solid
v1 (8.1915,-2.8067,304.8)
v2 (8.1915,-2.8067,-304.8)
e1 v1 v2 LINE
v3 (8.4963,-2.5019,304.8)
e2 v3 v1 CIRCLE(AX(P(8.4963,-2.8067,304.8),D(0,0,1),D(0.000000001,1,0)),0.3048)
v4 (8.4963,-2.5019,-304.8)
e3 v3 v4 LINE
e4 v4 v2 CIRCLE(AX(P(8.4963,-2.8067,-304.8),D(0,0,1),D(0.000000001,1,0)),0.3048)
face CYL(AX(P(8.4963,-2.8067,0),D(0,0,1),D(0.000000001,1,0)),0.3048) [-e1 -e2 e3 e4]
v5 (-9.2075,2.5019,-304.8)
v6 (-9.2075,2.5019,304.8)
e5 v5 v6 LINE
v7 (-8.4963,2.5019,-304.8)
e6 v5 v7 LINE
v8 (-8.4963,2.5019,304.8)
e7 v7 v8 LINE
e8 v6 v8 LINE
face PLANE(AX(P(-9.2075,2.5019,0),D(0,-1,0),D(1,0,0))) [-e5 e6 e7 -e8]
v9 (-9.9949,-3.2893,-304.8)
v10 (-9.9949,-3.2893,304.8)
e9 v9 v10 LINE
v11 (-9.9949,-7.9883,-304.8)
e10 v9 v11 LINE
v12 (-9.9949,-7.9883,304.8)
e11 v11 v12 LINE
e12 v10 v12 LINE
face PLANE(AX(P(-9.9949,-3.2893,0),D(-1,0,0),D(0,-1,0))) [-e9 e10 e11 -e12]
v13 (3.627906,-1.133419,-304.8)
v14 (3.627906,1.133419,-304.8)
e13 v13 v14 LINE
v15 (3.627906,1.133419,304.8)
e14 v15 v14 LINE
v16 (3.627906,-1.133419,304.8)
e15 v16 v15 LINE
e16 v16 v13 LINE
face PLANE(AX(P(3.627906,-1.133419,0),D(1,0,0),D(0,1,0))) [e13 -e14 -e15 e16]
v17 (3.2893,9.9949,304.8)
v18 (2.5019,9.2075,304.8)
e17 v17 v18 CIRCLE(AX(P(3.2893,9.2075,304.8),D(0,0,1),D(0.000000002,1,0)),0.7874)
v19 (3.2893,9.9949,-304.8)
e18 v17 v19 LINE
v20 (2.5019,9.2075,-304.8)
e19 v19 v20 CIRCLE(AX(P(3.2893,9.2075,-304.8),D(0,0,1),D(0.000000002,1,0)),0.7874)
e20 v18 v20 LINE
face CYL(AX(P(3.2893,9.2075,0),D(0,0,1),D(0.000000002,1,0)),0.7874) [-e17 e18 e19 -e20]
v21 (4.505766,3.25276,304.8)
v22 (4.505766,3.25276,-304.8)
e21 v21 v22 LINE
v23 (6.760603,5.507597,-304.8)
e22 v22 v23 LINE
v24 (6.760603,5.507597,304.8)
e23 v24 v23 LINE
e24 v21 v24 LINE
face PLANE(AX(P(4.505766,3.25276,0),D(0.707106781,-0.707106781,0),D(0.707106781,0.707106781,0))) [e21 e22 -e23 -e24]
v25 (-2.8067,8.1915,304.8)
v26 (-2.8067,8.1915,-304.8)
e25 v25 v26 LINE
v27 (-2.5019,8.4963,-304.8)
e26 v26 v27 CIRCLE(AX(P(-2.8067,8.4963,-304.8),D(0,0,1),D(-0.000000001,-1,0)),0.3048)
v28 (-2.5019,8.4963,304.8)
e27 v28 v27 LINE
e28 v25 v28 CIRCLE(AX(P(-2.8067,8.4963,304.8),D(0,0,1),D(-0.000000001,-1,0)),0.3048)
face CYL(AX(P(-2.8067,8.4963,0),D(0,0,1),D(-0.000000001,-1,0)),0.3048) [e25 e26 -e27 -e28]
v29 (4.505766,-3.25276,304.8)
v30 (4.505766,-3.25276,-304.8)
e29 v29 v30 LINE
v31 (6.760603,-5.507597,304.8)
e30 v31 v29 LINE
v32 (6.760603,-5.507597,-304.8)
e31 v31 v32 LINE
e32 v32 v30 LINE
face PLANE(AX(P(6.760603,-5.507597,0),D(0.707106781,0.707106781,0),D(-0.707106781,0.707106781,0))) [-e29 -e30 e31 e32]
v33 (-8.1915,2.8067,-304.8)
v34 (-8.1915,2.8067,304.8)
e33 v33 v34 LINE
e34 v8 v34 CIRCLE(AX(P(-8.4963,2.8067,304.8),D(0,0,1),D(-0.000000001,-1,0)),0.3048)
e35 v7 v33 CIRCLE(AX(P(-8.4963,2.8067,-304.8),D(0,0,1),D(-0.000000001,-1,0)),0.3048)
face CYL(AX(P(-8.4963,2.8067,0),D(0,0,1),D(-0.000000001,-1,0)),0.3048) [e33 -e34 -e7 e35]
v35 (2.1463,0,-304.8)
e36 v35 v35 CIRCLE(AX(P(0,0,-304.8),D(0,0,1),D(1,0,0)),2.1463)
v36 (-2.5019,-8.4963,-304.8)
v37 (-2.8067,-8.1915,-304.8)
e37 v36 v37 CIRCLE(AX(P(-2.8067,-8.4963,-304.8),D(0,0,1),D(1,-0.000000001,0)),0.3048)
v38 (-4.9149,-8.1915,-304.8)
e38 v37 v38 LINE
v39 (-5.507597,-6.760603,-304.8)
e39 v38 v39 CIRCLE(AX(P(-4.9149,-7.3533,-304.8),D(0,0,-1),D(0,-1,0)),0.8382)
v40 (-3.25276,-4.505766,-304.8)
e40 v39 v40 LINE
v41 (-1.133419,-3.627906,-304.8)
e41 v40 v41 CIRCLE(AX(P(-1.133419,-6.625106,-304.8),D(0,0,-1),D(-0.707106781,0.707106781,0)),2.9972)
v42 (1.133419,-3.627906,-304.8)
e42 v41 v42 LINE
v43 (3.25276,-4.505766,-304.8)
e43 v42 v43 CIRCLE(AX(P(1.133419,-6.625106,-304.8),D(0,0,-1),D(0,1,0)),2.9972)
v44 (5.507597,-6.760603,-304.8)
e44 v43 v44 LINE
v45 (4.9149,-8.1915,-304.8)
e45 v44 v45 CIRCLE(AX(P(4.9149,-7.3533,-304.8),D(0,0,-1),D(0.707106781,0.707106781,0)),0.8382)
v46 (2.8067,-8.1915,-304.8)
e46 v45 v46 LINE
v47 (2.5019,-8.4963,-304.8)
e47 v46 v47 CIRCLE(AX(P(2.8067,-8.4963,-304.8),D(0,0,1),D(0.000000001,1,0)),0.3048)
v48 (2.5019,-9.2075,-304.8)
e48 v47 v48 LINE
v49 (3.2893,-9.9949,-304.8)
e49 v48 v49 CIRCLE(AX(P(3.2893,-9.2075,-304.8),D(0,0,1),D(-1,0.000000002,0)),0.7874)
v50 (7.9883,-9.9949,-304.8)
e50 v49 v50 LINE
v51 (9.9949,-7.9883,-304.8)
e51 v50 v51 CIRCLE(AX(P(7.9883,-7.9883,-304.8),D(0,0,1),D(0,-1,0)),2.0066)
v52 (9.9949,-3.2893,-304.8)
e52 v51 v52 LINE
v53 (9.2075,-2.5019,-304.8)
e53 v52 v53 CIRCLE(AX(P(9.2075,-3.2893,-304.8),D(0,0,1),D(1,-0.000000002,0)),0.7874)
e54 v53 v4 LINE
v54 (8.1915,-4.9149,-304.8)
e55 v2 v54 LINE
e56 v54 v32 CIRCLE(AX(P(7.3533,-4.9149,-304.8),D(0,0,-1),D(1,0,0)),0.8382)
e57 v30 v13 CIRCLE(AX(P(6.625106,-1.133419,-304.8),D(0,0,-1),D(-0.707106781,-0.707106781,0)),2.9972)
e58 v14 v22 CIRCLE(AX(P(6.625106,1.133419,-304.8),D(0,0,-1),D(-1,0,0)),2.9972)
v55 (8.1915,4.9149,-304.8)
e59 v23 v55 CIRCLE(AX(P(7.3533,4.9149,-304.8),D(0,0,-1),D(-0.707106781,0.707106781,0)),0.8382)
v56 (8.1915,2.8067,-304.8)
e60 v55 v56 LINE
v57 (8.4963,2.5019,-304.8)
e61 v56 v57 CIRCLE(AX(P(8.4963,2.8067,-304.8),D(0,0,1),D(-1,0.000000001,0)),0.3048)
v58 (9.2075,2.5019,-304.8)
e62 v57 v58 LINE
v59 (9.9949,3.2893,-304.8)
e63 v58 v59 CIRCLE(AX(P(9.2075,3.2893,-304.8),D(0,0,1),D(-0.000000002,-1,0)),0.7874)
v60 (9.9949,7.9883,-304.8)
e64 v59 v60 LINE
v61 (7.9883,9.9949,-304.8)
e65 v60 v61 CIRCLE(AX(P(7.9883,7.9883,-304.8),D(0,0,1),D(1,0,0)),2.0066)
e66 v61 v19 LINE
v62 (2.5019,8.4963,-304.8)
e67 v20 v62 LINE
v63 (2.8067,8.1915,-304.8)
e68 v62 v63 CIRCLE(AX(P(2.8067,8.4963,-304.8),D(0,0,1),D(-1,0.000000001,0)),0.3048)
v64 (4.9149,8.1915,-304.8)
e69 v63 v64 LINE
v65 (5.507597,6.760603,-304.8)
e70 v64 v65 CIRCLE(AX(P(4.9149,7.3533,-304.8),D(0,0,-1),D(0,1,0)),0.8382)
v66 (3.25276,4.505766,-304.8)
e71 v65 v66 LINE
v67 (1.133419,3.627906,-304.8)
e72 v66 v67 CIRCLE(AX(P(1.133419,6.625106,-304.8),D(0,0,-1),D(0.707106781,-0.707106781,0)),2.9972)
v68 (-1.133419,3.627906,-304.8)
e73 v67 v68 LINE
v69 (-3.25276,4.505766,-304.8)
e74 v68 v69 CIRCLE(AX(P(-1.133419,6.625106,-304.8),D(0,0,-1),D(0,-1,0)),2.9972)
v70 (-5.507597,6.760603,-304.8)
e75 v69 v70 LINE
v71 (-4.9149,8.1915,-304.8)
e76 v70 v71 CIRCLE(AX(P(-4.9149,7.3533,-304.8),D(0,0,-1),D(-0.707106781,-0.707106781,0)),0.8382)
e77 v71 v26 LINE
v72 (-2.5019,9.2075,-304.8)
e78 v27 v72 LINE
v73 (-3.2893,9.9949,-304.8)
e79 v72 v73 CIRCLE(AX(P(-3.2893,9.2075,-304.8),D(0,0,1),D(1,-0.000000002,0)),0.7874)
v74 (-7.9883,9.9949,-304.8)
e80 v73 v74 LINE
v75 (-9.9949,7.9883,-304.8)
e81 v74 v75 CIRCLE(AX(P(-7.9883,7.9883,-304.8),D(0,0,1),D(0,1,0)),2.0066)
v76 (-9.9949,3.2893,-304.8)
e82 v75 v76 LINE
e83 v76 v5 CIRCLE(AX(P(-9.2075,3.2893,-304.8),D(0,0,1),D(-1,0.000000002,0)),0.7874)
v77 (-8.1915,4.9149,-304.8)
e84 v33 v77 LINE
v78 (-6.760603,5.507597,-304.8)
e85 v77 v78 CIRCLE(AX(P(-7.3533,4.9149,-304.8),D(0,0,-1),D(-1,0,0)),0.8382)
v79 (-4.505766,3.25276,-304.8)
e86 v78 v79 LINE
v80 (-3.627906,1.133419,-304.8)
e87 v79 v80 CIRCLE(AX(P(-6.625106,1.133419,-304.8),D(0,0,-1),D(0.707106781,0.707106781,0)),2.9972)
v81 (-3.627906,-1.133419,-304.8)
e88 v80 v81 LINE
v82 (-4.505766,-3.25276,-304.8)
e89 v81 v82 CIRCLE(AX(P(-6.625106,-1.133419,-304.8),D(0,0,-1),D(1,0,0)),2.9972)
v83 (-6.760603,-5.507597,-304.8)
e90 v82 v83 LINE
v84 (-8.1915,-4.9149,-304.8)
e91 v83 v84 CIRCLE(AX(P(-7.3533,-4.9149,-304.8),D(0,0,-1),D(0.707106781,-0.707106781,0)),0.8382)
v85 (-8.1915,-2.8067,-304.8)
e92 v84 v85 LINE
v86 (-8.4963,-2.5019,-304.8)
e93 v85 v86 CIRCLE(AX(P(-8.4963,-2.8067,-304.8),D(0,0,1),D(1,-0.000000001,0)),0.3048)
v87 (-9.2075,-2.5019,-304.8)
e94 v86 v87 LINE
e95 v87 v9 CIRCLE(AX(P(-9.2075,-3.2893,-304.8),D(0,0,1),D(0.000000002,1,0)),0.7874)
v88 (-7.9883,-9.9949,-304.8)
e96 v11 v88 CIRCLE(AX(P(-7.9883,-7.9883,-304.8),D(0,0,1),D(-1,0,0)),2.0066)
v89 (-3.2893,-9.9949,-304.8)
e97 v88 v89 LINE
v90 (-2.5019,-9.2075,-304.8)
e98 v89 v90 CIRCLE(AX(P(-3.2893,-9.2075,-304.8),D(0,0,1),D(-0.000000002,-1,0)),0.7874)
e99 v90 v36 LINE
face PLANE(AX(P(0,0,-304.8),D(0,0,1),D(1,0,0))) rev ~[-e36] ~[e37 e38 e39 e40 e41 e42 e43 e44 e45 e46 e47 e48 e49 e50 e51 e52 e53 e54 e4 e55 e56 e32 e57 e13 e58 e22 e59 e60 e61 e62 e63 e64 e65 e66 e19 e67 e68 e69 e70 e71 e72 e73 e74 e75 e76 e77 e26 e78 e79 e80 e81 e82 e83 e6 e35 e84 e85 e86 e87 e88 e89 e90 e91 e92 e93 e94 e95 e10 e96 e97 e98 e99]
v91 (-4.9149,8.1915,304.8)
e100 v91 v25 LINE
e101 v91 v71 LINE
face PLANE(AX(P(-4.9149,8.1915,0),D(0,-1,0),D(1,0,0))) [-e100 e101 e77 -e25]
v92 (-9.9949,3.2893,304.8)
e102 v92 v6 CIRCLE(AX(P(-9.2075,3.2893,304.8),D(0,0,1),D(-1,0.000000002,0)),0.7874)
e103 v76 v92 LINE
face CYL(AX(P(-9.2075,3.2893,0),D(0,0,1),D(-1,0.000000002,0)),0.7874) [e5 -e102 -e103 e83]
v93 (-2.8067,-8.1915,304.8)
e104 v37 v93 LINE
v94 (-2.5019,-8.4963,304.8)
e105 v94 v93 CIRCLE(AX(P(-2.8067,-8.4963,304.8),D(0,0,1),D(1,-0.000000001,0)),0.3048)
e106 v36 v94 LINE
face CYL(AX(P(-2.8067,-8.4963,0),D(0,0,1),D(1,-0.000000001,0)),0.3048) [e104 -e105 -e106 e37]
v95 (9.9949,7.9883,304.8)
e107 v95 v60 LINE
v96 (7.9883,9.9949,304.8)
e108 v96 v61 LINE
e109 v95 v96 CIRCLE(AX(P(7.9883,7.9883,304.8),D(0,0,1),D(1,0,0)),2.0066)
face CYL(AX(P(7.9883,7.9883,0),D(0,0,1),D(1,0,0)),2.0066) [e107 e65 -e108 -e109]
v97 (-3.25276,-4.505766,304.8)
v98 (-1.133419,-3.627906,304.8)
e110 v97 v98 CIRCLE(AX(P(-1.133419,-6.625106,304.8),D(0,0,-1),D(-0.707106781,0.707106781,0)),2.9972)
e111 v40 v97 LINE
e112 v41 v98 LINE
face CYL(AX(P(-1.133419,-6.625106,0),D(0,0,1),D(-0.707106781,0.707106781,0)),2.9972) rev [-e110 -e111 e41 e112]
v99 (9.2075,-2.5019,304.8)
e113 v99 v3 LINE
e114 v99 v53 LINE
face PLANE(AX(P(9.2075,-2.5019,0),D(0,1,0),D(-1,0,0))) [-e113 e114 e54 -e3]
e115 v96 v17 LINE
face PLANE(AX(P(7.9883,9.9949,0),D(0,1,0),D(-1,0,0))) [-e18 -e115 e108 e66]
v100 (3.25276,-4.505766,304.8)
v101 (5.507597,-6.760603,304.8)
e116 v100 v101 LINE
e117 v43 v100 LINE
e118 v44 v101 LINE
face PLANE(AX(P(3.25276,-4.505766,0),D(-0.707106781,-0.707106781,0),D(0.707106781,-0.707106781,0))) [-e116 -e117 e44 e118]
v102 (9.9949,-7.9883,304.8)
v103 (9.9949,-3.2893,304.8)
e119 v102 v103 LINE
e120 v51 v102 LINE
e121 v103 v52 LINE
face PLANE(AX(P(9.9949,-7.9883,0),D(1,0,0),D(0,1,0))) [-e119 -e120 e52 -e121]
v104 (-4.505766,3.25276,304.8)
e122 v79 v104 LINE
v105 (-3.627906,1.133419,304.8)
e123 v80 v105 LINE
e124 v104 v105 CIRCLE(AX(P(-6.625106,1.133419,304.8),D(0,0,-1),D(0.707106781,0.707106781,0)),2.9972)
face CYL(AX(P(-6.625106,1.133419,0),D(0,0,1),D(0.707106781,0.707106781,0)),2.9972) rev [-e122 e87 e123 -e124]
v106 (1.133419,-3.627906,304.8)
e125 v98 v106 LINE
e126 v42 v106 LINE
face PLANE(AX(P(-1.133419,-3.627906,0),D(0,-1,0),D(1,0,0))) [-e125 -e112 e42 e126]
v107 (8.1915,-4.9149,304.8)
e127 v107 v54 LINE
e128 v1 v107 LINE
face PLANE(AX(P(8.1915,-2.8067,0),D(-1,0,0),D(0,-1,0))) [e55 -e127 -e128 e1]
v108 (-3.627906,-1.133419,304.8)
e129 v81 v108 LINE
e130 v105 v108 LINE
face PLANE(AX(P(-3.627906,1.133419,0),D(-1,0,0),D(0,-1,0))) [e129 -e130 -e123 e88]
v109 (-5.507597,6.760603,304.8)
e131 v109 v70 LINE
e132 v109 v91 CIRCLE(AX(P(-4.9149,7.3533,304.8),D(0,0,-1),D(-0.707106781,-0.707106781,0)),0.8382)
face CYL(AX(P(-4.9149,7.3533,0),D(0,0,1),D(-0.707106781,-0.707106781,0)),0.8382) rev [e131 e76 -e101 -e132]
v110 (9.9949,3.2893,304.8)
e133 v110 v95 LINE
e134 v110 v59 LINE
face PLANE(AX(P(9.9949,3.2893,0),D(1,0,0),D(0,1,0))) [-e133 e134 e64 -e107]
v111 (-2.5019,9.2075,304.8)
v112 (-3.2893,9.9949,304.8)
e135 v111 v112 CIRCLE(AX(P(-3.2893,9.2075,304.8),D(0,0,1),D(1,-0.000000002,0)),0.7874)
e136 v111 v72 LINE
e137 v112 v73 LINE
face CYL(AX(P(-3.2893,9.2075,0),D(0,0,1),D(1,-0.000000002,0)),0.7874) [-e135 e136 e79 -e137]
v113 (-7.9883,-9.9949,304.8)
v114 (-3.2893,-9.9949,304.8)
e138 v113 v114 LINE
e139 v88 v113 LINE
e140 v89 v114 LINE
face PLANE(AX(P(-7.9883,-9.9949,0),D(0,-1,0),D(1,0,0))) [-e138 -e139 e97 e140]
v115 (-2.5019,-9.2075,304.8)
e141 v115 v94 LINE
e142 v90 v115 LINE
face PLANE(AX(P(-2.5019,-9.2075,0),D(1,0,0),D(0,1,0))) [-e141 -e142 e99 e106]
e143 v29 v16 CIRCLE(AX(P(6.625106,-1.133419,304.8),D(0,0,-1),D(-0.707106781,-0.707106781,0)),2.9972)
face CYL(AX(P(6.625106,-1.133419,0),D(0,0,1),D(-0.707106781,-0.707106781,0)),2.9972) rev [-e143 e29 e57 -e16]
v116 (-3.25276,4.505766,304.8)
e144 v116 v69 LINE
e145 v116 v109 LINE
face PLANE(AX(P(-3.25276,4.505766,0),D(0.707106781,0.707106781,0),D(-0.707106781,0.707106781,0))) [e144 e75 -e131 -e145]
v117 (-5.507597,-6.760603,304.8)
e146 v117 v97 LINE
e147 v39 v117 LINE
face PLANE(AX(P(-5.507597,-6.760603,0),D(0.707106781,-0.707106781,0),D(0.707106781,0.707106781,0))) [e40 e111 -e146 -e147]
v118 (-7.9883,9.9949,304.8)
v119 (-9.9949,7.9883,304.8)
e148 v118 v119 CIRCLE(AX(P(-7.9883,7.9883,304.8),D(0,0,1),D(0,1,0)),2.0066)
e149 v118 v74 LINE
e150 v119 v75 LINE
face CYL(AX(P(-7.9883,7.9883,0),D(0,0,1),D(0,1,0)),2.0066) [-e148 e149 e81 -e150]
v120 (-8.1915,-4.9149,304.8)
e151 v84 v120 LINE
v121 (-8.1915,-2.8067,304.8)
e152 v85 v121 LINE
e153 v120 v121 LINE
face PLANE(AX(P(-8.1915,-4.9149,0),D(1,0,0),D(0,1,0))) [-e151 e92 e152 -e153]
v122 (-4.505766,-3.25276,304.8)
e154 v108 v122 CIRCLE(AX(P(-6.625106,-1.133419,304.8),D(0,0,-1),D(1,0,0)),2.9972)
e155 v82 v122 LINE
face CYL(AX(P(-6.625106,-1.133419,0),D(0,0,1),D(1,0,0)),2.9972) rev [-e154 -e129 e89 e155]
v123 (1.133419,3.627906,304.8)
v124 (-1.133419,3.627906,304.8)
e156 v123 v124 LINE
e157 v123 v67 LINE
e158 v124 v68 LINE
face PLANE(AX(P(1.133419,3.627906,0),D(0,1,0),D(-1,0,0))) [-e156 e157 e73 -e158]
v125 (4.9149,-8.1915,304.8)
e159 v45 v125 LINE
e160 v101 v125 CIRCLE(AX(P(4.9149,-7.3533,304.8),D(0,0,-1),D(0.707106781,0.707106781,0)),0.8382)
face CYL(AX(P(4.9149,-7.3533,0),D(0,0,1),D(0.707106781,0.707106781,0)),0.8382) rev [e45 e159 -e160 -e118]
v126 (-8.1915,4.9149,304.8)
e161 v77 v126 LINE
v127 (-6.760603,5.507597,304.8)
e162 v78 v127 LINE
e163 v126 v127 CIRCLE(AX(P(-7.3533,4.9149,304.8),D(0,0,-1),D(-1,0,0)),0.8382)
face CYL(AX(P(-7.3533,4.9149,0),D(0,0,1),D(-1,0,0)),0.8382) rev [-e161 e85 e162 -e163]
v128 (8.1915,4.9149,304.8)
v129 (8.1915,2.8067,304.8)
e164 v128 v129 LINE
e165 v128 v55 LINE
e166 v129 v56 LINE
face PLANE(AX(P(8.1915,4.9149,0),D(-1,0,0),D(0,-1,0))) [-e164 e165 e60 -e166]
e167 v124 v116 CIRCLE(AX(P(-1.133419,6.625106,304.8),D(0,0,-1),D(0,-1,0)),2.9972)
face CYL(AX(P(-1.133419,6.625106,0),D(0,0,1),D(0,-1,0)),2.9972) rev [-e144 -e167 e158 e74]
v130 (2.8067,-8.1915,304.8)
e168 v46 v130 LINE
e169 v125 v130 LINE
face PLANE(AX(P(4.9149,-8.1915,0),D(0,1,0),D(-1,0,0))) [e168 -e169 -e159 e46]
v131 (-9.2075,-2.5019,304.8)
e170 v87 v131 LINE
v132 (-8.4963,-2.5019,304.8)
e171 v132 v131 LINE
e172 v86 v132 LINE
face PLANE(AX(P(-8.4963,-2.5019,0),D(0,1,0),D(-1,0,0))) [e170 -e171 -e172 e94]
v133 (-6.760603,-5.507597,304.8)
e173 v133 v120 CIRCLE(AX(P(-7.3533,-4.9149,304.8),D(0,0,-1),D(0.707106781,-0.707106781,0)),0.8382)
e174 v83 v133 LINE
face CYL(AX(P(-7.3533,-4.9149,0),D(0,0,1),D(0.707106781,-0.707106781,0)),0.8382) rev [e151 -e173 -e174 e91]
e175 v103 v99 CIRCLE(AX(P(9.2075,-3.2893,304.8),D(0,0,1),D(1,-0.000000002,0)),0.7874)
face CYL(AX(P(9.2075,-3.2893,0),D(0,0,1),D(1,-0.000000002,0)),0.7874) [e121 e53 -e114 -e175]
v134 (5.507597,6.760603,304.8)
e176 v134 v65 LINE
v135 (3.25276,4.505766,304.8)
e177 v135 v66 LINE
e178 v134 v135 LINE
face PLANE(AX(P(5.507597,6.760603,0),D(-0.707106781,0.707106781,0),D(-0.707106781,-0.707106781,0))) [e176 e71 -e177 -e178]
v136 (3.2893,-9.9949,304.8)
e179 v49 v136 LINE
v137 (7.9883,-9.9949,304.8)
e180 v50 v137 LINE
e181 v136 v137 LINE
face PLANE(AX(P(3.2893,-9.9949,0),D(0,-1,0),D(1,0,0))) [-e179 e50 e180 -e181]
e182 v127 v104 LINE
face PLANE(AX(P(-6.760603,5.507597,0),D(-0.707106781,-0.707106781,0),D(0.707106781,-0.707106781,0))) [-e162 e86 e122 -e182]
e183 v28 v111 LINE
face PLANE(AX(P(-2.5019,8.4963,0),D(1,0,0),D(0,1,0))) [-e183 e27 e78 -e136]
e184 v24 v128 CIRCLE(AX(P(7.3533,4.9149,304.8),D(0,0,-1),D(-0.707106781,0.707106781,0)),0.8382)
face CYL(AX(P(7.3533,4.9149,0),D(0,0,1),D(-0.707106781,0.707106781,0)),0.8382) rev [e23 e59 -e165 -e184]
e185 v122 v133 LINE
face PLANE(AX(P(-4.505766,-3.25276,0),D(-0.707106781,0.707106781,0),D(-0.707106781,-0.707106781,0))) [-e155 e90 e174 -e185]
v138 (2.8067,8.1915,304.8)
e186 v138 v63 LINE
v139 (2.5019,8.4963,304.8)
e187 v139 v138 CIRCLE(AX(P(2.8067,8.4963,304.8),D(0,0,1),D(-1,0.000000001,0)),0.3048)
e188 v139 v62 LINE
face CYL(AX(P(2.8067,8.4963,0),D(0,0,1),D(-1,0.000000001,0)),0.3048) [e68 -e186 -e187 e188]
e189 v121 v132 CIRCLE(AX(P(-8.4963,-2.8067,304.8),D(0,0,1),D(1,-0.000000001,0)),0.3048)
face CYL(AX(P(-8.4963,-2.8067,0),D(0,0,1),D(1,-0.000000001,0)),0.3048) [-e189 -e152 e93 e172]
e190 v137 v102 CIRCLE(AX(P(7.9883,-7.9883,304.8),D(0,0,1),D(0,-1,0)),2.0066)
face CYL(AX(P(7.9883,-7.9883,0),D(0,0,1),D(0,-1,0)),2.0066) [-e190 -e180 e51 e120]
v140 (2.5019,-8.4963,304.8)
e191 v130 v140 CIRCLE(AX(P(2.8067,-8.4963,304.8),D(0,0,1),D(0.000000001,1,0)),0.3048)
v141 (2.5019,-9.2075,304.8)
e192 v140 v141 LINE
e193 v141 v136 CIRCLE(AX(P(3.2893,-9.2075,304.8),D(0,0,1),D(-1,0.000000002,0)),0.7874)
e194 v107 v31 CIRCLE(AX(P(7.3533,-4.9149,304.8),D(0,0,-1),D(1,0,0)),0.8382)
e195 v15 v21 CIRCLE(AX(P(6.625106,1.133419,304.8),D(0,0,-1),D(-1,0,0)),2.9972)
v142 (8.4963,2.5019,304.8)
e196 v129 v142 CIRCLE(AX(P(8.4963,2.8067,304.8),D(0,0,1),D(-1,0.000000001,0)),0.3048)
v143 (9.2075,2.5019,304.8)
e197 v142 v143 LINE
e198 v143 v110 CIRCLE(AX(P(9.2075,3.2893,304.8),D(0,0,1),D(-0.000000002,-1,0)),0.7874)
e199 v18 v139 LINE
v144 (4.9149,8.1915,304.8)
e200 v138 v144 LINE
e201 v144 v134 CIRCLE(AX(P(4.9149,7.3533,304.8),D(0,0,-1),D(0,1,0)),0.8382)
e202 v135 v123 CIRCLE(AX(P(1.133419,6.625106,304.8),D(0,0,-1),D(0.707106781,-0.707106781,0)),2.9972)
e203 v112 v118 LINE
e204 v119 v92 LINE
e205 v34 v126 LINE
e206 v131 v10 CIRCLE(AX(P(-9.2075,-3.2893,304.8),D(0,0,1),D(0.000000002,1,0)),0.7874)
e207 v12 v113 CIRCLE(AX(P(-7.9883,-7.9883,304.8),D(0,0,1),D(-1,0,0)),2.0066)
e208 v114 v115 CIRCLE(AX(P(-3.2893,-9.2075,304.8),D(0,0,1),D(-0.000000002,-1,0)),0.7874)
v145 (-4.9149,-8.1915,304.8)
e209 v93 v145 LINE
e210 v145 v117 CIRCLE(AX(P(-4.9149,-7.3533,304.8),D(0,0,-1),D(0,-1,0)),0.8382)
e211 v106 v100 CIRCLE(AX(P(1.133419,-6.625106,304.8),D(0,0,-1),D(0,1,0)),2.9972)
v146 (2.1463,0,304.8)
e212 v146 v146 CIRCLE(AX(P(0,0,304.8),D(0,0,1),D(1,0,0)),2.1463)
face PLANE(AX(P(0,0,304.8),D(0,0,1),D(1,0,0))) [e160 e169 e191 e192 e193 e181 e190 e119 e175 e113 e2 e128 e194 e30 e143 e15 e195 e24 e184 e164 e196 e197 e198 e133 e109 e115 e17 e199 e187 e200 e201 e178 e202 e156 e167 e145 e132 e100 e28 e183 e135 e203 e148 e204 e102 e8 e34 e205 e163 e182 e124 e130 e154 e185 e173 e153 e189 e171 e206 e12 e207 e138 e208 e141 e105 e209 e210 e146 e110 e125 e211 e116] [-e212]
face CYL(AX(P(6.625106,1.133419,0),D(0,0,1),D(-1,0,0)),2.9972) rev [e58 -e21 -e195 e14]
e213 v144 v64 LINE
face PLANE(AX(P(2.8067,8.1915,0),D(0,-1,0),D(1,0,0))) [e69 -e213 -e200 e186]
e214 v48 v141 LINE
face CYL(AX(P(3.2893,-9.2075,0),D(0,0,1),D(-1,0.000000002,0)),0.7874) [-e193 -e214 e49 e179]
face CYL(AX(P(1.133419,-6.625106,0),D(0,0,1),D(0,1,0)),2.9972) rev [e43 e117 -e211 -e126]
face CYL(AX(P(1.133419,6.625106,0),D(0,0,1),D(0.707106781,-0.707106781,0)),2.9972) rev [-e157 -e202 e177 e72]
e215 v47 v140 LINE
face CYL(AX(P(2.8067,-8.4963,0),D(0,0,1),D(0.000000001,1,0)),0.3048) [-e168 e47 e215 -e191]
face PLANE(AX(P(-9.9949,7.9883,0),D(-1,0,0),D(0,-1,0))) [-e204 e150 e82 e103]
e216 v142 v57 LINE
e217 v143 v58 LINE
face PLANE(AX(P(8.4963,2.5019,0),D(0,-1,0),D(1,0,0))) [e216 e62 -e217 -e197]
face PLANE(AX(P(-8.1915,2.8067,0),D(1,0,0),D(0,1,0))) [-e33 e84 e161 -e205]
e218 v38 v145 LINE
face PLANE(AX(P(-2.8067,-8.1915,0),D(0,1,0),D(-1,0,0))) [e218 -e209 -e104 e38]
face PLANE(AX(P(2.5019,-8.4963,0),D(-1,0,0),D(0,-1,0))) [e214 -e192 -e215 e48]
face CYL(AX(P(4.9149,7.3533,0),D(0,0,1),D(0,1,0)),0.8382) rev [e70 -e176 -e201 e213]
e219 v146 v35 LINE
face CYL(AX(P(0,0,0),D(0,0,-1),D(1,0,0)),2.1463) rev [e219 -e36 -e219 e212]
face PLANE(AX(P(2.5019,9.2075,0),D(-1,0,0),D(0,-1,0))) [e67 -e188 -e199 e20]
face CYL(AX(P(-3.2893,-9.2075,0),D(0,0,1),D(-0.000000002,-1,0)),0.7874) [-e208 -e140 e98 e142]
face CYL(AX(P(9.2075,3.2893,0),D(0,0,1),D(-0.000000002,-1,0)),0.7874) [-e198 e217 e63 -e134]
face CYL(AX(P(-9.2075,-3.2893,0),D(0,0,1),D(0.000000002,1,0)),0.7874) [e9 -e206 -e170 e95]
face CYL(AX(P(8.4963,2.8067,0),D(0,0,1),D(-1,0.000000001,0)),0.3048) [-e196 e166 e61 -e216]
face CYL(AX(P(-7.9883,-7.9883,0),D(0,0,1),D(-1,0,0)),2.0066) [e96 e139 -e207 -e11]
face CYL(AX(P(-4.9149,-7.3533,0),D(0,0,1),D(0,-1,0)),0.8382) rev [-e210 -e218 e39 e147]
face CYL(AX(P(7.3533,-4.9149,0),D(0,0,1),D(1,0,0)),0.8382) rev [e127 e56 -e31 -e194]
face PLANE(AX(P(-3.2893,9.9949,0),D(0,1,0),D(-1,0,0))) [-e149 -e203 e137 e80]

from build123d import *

# Parameters (mm, degrees)
SKETCH1_R      = 2.1463
EXTRUDE1_DEPTH = 304.8


with BuildPart() as part:
    # Sketch1 → Extrude1 (new body, symmetric)
    with BuildSketch(Plane.XY):
        with BuildLine():
            Line((-9.9949, 7.9883), (-9.9949, 3.2893))
            ThreePointArc((-9.9949, 3.2893), (-9.76427588, 2.73252412), (-9.2075, 2.5019))
            Line((-9.2075, 2.5019), (-8.4963, 2.5019))
            ThreePointArc((-8.4963, 2.5019), (-8.280773853, 2.591173853), (-8.1915, 2.8067))
            Line((-8.1915, 2.8067), (-8.1915, 4.9149))
            ThreePointArc((-8.1915, 4.9149), (-7.674065253, 5.689295824), (-6.760603096, 5.507596904))
            Line((-6.760603096, 5.507596904), (-4.505765747, 3.252759555))
            ThreePointArc((-4.505765747, 3.252759555), (-3.856054457, 2.280397894), (-3.627906192, 1.133419111))
            Line((-3.627906192, 1.133419111), (-3.627906192, -1.133419111))
            ThreePointArc((-3.627906192, -1.133419111), (-3.856054457, -2.280397894), (-4.505765747, -3.252759555))
            Line((-4.505765747, -3.252759555), (-6.760603096, -5.507596904))
            ThreePointArc((-6.760603096, -5.507596904), (-7.674065253, -5.689295824), (-8.1915, -4.9149))
            Line((-8.1915, -4.9149), (-8.1915, -2.8067))
            ThreePointArc((-8.1915, -2.8067), (-8.280773853, -2.591173853), (-8.4963, -2.5019))
            Line((-8.4963, -2.5019), (-9.2075, -2.5019))
            ThreePointArc((-9.2075, -2.5019), (-9.76427588, -2.73252412), (-9.9949, -3.2893))
            Line((-9.9949, -3.2893), (-9.9949, -7.9883))
            ThreePointArc((-9.9949, -7.9883), (-9.407180467, -9.407180467), (-7.9883, -9.9949))
            Line((-7.9883, -9.9949), (-3.2893, -9.9949))
            ThreePointArc((-3.2893, -9.9949), (-2.73252412, -9.76427588), (-2.5019, -9.2075))
            Line((-2.5019, -9.2075), (-2.5019, -8.4963))
            ThreePointArc((-2.5019, -8.4963), (-2.591173853, -8.280773853), (-2.8067, -8.1915))
            Line((-2.8067, -8.1915), (-4.9149, -8.1915))
            ThreePointArc((-4.9149, -8.1915), (-5.689295824, -7.674065253), (-5.507596904, -6.760603096))
            Line((-5.507596904, -6.760603096), (-3.252759555, -4.505765747))
            ThreePointArc((-3.252759555, -4.505765747), (-2.280397894, -3.856054457), (-1.133419111, -3.627906192))
            Line((-1.133419111, -3.627906192), (1.133419111, -3.627906192))
            ThreePointArc((1.133419111, -3.627906192), (2.280397894, -3.856054457), (3.252759555, -4.505765747))
            Line((3.252759555, -4.505765747), (5.507596904, -6.760603096))
            ThreePointArc((5.507596904, -6.760603096), (5.689295824, -7.674065253), (4.9149, -8.1915))
            Line((4.9149, -8.1915), (2.8067, -8.1915))
            ThreePointArc((2.8067, -8.1915), (2.591173853, -8.280773853), (2.5019, -8.4963))
            Line((2.5019, -8.4963), (2.5019, -9.2075))
            ThreePointArc((2.5019, -9.2075), (2.73252412, -9.76427588), (3.2893, -9.9949))
            Line((3.2893, -9.9949), (7.9883, -9.9949))
            ThreePointArc((7.9883, -9.9949), (9.407180467, -9.407180467), (9.9949, -7.9883))
            Line((9.9949, -7.9883), (9.9949, -3.2893))
            ThreePointArc((9.9949, -3.2893), (9.76427588, -2.73252412), (9.2075, -2.5019))
            Line((9.2075, -2.5019), (8.4963, -2.5019))
            ThreePointArc((8.4963, -2.5019), (8.280773853, -2.591173853), (8.1915, -2.8067))
            Line((8.1915, -2.8067), (8.1915, -4.9149))
            ThreePointArc((8.1915, -4.9149), (7.674065253, -5.689295824), (6.760603096, -5.507596904))
            Line((6.760603096, -5.507596904), (4.505765747, -3.252759555))
            ThreePointArc((4.505765747, -3.252759555), (3.856054457, -2.280397894), (3.627906192, -1.133419111))
            Line((3.627906192, -1.133419111), (3.627906192, 1.133419111))
            ThreePointArc((3.627906192, 1.133419111), (3.856054457, 2.280397894), (4.505765747, 3.252759555))
            Line((4.505765747, 3.252759555), (6.760603096, 5.507596904))
            ThreePointArc((6.760603096, 5.507596904), (7.674065253, 5.689295824), (8.1915, 4.9149))
            Line((8.1915, 4.9149), (8.1915, 2.8067))
            ThreePointArc((8.1915, 2.8067), (8.280773853, 2.591173853), (8.4963, 2.5019))
            Line((8.4963, 2.5019), (9.2075, 2.5019))
            ThreePointArc((9.2075, 2.5019), (9.76427588, 2.73252412), (9.9949, 3.2893))
            Line((9.9949, 3.2893), (9.9949, 7.9883))
            ThreePointArc((9.9949, 7.9883), (9.407180467, 9.407180467), (7.9883, 9.9949))
            Line((7.9883, 9.9949), (3.2893, 9.9949))
            ThreePointArc((3.2893, 9.9949), (2.73252412, 9.76427588), (2.5019, 9.2075))
            Line((2.5019, 9.2075), (2.5019, 8.4963))
            ThreePointArc((2.5019, 8.4963), (2.591173853, 8.280773853), (2.8067, 8.1915))
            Line((2.8067, 8.1915), (4.9149, 8.1915))
            ThreePointArc((4.9149, 8.1915), (5.689295824, 7.674065253), (5.507596904, 6.760603096))
            Line((5.507596904, 6.760603096), (3.252759555, 4.505765747))
            ThreePointArc((3.252759555, 4.505765747), (2.280397894, 3.856054457), (1.133419111, 3.627906192))
            Line((1.133419111, 3.627906192), (-1.133419111, 3.627906192))
            ThreePointArc((-1.133419111, 3.627906192), (-2.280397894, 3.856054457), (-3.252759555, 4.505765747))
            Line((-3.252759555, 4.505765747), (-5.507596904, 6.760603096))
            ThreePointArc((-5.507596904, 6.760603096), (-5.689295824, 7.674065253), (-4.9149, 8.1915))
            Line((-4.9149, 8.1915), (-2.8067, 8.1915))
            ThreePointArc((-2.8067, 8.1915), (-2.591173853, 8.280773853), (-2.5019, 8.4963))
            Line((-2.5019, 8.4963), (-2.5019, 9.2075))
            ThreePointArc((-2.5019, 9.2075), (-2.73252412, 9.76427588), (-3.2893, 9.9949))
            Line((-3.2893, 9.9949), (-7.9883, 9.9949))
            ThreePointArc((-7.9883, 9.9949), (-9.407180467, 9.407180467), (-9.9949, 7.9883))
        make_face()
        Circle(SKETCH1_R, mode=Mode.SUBTRACT)
    extrude(amount=EXTRUDE1_DEPTH, both=True)


solid = part.part
